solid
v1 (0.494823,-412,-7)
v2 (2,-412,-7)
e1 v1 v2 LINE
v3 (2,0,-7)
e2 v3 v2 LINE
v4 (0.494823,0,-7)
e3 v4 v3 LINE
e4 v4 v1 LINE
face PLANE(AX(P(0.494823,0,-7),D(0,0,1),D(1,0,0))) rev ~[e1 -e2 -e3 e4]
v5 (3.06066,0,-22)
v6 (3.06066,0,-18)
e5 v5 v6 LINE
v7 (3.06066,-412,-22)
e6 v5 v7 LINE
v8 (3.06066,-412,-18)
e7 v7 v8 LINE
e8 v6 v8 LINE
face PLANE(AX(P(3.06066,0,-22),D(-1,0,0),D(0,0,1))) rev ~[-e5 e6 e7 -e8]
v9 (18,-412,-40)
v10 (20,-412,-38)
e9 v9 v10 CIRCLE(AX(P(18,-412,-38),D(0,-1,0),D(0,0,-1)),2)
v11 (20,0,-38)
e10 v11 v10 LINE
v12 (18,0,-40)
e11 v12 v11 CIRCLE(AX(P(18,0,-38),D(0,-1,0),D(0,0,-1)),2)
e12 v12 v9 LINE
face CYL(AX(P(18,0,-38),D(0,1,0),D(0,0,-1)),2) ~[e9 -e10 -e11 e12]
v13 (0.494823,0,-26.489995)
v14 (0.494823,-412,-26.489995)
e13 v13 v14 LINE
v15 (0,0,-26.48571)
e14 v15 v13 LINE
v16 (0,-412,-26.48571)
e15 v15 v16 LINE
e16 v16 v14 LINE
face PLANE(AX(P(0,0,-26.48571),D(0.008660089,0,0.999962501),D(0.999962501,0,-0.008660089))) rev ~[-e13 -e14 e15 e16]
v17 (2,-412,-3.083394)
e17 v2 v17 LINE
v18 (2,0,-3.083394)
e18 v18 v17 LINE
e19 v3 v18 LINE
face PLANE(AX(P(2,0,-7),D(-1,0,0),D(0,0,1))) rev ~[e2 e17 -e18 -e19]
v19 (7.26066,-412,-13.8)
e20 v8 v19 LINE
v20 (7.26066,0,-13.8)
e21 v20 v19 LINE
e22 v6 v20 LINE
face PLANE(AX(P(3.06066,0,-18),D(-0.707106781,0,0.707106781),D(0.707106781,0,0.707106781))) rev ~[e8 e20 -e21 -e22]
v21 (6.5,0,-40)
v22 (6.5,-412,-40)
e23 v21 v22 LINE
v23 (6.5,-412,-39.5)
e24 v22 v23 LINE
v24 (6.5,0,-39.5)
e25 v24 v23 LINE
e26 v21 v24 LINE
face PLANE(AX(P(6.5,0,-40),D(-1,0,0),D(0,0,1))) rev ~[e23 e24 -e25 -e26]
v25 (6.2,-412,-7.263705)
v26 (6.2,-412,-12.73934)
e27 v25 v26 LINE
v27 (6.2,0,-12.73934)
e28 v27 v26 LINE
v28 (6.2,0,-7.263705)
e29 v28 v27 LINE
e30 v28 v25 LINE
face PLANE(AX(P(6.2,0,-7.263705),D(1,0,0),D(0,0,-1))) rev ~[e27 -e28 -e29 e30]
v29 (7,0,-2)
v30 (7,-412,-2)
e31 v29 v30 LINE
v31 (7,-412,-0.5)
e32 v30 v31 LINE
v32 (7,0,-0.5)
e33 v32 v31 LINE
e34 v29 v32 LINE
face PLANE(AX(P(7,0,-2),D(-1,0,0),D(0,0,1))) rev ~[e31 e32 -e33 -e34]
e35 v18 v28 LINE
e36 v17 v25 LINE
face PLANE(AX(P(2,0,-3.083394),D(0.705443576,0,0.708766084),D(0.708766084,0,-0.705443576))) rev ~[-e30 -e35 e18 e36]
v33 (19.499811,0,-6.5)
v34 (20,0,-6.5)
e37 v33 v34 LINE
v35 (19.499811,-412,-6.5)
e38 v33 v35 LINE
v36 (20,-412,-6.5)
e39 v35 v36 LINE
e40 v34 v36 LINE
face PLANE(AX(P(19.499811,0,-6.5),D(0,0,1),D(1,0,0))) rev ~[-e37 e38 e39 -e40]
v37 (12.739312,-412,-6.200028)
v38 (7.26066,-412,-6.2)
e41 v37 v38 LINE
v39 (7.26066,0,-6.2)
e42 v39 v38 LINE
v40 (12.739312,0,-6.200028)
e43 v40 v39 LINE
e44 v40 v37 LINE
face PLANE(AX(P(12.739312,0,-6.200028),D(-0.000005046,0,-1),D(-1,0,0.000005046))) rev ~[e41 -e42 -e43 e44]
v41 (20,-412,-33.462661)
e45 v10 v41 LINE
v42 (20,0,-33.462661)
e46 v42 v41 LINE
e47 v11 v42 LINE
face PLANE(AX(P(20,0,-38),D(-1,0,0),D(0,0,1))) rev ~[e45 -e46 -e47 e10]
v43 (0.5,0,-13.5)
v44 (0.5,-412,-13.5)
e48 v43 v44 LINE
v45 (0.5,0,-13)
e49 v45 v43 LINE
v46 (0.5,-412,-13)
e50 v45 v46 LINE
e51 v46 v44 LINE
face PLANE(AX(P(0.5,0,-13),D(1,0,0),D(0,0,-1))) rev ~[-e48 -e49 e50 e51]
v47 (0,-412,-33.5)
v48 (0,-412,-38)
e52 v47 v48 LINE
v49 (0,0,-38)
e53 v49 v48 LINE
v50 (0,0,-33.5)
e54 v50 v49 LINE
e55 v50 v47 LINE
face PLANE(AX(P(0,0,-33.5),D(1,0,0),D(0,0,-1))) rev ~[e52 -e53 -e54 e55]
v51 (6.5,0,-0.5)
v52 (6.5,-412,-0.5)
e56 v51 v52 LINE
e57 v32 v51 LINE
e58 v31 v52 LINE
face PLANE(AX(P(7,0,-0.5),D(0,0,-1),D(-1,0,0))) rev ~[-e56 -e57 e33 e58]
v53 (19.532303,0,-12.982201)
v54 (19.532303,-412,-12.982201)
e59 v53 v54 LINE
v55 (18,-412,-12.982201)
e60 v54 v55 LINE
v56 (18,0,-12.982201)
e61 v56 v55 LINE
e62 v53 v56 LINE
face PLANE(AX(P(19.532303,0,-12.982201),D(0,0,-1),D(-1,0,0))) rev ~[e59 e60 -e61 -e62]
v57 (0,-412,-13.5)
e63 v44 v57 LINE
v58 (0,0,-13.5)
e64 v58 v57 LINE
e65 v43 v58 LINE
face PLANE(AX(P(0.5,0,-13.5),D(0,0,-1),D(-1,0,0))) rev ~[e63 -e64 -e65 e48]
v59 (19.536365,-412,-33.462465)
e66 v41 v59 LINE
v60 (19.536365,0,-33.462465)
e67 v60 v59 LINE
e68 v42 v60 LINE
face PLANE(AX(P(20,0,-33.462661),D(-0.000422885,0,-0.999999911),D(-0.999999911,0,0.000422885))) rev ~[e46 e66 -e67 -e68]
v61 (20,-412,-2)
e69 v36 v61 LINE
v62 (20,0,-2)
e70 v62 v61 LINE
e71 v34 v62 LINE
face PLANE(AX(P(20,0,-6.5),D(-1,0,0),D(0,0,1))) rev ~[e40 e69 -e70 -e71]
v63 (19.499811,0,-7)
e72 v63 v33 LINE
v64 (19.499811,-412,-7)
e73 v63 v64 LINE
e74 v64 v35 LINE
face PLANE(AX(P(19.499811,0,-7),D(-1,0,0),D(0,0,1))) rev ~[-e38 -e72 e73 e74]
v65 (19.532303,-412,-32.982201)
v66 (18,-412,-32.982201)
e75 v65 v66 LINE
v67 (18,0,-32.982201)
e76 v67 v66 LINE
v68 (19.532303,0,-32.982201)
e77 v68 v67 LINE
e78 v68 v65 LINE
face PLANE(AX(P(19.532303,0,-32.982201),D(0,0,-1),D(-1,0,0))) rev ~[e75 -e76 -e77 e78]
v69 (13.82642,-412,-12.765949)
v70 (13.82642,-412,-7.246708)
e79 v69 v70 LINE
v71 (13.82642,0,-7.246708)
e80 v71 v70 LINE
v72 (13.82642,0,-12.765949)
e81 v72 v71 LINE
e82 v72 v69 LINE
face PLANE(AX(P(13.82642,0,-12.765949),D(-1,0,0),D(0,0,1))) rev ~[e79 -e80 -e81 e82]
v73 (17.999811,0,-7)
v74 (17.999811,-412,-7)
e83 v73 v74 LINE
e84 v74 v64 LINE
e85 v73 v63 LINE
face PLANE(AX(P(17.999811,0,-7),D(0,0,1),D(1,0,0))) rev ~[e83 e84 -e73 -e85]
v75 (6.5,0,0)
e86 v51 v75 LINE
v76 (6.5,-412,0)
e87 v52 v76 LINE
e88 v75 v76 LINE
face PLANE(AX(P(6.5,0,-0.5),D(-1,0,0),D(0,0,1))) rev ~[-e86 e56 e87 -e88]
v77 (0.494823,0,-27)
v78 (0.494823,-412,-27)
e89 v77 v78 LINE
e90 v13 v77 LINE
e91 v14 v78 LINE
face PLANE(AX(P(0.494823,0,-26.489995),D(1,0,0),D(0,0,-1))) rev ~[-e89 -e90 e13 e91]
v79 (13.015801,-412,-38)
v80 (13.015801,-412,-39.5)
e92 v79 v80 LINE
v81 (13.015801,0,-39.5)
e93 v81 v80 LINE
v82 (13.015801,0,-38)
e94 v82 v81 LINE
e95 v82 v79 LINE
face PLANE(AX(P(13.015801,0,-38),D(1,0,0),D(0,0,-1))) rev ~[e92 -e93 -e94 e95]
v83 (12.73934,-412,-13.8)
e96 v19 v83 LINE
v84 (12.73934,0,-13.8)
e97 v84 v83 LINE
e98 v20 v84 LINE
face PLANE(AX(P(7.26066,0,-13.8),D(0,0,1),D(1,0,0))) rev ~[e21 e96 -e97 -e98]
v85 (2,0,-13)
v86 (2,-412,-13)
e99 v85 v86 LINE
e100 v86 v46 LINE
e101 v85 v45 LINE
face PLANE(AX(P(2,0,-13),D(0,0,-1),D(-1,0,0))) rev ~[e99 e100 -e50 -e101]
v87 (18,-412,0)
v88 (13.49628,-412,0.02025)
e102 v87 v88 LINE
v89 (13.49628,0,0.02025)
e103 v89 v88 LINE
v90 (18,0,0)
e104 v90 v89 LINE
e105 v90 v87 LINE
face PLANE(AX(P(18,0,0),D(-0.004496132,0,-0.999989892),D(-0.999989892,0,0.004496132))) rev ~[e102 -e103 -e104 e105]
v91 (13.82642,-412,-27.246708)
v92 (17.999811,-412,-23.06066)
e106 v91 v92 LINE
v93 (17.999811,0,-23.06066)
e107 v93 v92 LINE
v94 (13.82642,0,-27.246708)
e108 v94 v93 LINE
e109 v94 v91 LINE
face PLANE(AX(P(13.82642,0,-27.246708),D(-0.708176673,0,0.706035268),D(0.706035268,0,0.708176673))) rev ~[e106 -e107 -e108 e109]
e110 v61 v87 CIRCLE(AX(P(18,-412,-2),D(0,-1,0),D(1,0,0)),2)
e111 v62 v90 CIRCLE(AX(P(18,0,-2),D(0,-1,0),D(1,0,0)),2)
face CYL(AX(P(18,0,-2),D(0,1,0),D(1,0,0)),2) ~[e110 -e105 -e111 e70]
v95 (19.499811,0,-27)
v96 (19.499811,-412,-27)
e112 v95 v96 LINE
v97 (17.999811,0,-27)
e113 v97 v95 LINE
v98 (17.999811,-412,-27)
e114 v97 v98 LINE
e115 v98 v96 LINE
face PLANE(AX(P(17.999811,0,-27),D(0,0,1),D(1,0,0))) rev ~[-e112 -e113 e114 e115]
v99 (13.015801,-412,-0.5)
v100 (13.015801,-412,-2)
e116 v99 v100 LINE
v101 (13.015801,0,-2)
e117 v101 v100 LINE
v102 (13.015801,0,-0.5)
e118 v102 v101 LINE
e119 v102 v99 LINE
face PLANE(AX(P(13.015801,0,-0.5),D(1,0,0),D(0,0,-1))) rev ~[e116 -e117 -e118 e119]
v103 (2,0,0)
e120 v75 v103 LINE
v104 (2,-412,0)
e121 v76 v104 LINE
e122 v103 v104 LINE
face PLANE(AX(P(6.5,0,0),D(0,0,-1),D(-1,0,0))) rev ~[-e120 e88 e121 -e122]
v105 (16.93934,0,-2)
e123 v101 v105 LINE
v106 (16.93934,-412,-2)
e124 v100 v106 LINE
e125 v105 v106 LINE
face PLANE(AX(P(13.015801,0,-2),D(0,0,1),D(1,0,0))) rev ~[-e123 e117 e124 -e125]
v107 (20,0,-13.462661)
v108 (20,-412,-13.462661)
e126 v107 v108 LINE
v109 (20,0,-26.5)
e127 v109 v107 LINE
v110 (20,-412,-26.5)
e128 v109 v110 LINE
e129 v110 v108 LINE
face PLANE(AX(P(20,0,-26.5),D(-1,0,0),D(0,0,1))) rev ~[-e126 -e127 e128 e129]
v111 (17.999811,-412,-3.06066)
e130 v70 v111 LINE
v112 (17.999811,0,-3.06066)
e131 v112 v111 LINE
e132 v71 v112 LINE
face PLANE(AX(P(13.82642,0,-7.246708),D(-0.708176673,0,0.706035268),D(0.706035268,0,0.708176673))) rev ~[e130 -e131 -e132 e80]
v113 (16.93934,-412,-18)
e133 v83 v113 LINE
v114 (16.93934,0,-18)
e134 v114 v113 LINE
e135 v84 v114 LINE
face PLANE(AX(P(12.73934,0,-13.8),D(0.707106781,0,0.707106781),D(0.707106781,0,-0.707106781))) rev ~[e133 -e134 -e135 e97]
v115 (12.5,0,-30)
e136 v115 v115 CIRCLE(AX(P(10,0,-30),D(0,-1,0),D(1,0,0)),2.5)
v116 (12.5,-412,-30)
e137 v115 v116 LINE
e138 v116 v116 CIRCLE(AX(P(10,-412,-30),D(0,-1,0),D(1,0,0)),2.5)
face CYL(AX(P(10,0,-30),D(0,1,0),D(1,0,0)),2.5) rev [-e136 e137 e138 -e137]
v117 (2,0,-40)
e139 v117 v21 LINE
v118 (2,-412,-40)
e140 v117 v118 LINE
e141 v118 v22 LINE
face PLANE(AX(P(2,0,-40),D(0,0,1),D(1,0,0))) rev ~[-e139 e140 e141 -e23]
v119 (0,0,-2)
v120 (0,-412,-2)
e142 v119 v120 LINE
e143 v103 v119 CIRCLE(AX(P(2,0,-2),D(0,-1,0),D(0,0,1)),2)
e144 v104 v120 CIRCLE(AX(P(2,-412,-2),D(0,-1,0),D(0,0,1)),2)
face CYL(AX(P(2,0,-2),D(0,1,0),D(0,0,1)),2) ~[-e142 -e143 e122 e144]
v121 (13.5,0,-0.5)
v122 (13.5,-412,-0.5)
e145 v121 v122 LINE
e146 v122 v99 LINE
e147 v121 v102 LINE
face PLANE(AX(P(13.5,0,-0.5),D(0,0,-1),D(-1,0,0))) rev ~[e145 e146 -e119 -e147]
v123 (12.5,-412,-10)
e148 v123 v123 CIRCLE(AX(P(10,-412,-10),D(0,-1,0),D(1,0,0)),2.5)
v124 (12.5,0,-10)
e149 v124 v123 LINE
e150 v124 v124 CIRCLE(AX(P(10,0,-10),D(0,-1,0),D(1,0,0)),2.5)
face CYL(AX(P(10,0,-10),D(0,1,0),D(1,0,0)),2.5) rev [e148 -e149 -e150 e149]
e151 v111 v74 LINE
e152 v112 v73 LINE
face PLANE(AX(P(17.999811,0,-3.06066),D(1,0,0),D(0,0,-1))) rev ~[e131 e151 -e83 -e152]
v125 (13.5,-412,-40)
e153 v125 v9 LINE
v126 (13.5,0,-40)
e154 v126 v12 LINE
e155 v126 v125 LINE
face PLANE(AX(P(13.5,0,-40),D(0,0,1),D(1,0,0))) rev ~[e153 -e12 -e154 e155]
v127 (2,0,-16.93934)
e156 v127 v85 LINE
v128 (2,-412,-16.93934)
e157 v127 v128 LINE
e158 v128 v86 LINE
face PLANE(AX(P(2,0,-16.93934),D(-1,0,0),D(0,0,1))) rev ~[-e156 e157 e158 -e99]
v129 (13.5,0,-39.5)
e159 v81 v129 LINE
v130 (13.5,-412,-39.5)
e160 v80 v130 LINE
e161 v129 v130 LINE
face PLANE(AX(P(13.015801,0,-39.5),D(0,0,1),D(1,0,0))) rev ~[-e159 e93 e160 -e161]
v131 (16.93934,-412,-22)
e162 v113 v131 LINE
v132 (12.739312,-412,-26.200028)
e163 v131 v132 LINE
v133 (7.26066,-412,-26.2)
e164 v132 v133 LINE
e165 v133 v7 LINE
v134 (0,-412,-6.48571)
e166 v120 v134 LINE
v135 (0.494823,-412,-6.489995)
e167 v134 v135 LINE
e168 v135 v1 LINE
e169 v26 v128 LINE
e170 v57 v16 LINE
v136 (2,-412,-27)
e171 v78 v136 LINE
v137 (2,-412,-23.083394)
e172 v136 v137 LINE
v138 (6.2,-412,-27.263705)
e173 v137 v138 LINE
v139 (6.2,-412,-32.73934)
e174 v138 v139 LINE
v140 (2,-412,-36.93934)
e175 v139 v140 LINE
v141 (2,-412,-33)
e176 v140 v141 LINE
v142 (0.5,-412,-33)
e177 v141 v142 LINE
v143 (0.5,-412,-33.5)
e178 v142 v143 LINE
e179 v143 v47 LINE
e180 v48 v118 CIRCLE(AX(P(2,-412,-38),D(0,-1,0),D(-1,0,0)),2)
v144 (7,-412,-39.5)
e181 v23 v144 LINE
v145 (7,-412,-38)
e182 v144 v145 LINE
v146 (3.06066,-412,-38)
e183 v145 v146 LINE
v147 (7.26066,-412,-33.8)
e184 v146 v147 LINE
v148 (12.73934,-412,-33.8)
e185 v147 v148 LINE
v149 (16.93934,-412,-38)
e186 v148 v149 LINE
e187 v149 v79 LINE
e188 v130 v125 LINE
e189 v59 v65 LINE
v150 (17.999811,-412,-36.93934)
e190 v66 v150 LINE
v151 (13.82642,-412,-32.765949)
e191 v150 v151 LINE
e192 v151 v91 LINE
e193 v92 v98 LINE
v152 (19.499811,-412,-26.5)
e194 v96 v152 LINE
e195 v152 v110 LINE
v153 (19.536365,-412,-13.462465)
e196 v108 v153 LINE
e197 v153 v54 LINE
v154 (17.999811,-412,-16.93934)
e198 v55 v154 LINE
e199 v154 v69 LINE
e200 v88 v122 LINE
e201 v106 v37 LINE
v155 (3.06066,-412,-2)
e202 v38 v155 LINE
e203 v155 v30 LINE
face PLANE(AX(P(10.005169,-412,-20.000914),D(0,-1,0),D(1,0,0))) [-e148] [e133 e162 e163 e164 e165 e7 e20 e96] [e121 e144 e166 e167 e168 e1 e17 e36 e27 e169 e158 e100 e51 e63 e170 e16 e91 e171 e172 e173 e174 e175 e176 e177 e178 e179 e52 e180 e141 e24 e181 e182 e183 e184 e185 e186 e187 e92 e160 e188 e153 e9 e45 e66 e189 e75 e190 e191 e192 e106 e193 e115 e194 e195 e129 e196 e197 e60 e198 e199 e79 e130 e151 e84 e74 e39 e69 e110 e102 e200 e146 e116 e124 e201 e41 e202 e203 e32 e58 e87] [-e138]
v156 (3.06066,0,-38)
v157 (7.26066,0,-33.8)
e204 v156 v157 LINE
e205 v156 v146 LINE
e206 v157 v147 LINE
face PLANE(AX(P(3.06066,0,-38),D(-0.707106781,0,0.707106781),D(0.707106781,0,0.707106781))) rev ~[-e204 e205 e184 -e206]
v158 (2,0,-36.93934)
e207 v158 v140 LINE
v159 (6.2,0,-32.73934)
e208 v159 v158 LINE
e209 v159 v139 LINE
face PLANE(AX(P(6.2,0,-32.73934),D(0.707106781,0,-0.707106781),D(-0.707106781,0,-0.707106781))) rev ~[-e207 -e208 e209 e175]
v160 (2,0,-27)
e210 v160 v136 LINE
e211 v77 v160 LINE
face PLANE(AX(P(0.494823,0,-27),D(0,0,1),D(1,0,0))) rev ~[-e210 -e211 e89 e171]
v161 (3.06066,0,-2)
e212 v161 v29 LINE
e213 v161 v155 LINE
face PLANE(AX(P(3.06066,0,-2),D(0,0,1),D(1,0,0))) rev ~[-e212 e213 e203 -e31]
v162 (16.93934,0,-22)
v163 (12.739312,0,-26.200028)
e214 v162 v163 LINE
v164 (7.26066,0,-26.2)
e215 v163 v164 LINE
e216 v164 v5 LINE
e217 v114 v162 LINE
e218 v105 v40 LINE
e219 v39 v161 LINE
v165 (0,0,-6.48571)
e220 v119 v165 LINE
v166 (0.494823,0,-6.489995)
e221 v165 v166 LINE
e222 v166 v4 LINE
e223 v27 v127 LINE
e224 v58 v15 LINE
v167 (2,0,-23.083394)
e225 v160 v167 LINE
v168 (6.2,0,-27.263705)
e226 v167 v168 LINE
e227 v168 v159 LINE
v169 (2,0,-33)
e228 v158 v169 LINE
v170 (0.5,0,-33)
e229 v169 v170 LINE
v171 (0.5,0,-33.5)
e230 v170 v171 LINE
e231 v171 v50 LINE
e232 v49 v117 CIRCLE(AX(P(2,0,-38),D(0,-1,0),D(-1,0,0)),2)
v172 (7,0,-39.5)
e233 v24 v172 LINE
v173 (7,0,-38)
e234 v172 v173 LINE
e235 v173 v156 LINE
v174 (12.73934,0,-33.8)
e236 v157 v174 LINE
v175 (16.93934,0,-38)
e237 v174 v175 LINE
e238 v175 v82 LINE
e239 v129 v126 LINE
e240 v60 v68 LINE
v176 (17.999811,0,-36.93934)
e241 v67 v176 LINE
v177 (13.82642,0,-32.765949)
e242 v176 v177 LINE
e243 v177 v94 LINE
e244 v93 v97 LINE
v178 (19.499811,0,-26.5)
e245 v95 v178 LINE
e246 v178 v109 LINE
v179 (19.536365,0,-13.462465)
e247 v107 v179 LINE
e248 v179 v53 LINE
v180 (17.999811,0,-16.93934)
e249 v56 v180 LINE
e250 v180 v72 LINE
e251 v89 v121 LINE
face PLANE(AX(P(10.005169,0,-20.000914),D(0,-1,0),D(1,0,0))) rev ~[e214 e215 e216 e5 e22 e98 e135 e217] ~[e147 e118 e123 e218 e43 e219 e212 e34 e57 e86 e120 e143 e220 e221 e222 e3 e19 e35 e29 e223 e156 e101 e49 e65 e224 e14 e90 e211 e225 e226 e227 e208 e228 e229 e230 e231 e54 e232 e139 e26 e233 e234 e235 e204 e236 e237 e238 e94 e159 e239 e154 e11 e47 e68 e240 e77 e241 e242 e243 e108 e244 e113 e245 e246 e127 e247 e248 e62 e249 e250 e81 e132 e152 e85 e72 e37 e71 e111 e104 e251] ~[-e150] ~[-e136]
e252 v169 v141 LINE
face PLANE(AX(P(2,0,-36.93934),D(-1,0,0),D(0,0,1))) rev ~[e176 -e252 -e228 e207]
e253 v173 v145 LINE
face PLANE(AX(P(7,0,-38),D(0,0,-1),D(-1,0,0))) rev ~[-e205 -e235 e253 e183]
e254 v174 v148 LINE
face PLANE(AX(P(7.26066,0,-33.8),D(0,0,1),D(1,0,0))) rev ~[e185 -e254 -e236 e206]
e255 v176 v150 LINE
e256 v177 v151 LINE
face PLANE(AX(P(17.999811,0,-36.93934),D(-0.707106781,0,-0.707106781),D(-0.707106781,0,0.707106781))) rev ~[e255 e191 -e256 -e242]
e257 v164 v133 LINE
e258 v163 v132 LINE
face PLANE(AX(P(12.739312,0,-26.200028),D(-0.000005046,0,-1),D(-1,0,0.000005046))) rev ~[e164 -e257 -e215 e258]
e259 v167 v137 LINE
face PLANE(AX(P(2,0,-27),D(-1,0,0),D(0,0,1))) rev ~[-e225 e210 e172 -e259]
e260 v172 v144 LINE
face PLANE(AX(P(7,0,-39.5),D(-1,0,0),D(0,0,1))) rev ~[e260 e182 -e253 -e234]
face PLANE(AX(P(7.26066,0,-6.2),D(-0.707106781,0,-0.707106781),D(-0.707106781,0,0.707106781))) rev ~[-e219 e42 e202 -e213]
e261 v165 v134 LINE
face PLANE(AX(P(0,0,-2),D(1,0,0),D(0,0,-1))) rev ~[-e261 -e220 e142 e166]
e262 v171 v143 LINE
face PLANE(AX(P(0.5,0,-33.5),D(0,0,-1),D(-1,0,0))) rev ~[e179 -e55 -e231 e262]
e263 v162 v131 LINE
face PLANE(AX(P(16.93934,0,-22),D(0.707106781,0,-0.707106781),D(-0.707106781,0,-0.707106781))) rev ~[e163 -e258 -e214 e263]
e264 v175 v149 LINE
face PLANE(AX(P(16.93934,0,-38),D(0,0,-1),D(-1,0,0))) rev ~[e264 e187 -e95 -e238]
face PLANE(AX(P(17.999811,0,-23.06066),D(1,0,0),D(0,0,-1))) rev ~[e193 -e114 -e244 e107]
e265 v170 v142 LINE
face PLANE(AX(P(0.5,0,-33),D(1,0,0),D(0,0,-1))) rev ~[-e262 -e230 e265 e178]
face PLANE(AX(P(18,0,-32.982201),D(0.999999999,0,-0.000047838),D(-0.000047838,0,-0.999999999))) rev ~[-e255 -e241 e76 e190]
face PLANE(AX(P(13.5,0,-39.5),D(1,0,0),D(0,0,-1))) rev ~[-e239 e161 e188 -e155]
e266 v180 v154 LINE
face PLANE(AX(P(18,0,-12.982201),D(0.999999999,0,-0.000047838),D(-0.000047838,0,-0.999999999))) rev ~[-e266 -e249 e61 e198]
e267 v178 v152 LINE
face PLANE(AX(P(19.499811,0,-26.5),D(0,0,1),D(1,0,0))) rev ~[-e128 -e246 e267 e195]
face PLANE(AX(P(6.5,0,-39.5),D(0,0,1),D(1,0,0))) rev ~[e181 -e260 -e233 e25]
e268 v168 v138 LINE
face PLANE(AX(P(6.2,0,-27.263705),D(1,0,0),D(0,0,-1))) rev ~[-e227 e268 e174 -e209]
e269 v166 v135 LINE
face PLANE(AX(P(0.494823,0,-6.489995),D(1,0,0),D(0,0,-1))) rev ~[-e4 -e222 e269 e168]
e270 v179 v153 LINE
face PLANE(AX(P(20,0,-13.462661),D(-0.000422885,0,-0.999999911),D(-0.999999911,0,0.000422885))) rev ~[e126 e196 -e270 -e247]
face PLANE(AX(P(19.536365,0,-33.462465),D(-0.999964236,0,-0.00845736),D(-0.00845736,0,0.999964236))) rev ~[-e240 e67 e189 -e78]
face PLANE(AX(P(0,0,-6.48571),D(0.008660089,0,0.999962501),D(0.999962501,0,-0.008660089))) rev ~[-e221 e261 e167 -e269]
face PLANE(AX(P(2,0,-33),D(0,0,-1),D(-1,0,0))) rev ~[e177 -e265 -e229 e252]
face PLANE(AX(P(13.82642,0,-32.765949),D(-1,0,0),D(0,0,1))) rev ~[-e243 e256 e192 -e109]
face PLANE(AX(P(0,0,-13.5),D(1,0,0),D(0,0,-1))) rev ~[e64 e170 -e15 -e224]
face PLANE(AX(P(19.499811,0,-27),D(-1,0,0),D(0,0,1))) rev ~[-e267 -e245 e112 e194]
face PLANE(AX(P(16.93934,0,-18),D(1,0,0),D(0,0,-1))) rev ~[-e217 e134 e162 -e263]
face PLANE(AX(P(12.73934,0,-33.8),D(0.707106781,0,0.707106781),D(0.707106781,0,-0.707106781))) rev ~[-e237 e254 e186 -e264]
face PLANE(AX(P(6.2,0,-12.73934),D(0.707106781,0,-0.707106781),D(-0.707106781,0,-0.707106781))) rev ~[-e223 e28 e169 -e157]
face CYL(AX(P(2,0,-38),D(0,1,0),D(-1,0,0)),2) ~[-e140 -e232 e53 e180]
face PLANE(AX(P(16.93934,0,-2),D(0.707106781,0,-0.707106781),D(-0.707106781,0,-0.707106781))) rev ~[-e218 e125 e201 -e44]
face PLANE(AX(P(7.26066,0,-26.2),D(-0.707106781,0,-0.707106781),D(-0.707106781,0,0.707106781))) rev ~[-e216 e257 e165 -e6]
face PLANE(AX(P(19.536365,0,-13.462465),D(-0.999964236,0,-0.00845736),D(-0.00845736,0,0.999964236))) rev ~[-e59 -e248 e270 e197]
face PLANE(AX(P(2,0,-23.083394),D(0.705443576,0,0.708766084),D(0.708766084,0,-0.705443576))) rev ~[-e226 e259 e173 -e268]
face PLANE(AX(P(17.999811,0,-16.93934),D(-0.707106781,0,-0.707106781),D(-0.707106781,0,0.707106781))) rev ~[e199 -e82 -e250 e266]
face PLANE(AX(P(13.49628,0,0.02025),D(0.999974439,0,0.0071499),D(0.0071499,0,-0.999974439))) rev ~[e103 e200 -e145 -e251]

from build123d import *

# Parameters (mm, degrees)
F0_R     = 2.5
F2_DEPTH = 412


with BuildPart() as f2:
    # F0 (on Front) → F2 (new body)
    with BuildSketch(Plane.XZ):
        with BuildLine():
            Line((6.5, 0), (2, 0))
            ThreePointArc((2, 0), (0.5857864376, -0.5857864376), (0, -2))
            Line((0, -2), (0, -6.4857100192))
            Line((0, -6.4857100192), (0.4948230833, -6.489995392))
            Line((0.4948230833, -6.489995392), (0.4948230833, -7))
            Line((0.4948230833, -7), (2, -7))
            Line((2, -7), (2, -3.0833937817))
            Line((2, -3.0833937817), (6.2, -7.2637052917))
            Line((6.2, -7.2637052917), (6.2, -12.7393398282))
            Line((6.2, -12.7393398282), (2, -16.9393398282))
            Line((2, -16.9393398282), (2, -13))
            Line((2, -13), (0.5, -13))
            Line((0.5, -13), (0.5, -13.5))
            Line((0.5, -13.5), (0, -13.5))
            Line((0, -13.5), (0, -26.4857100192))
            Line((0, -26.4857100192), (0.4948230833, -26.489995392))
            Line((0.4948230833, -26.489995392), (0.4948230833, -27))
            Line((0.4948230833, -27), (2, -27))
            Line((2, -27), (2, -23.0833937817))
            Line((2, -23.0833937817), (6.2, -27.2637052917))
            Line((6.2, -27.2637052917), (6.2, -32.7393398282))
            Line((6.2, -32.7393398282), (2, -36.9393398282))
            Line((2, -36.9393398282), (2, -33))
            Line((2, -33), (0.5, -33))
            Line((0.5, -33), (0.5, -33.5))
            Line((0.5, -33.5), (0, -33.5))
            Line((0, -33.5), (0, -38))
            ThreePointArc((0, -38), (0.5857864376, -39.4142135624), (2, -40))
            Line((2, -40), (6.5, -40))
            Line((6.5, -40), (6.5, -39.5))
            Line((6.5, -39.5), (7, -39.5))
            Line((7, -39.5), (7, -38))
            Line((7, -38), (3.0606601718, -38))
            Line((3.0606601718, -38), (7.2606601718, -33.8))
            Line((7.2606601718, -33.8), (12.7393398282, -33.8))
            Line((12.7393398282, -33.8), (16.9393398282, -38))
            Line((16.9393398282, -38), (13.015800612, -38))
            Line((13.015800612, -38), (13.015800612, -39.5))
            Line((13.015800612, -39.5), (13.5, -39.5))
            Line((13.5, -39.5), (13.5, -40))
            Line((13.5, -40), (18, -40))
            ThreePointArc((18, -40), (19.4142135624, -39.4142135624), (20, -38))
            Line((20, -38), (20, -33.4626608249))
            Line((20, -33.4626608249), (19.5363645284, -33.4624647606))
            Line((19.5363645284, -33.4624647606), (19.532302618, -32.9822008219))
            Line((19.532302618, -32.9822008219), (18, -32.9822008219))
            Line((18, -32.9822008219), (17.9998106987, -36.9393398192))
            Line((17.9998106987, -36.9393398192), (13.8264202785, -32.765949399))
            Line((13.8264202785, -32.765949399), (13.8264202785, -27.246708479))
            Line((13.8264202785, -27.246708479), (17.9998106987, -23.0606601627))
            Line((17.9998106987, -23.0606601627), (17.9998106987, -26.9999999909))
            Line((17.9998106987, -26.9999999909), (19.4998106987, -26.9999999909))
            Line((19.4998106987, -26.9999999909), (19.4998106987, -26.4999999909))
            Line((19.4998106987, -26.4999999909), (20, -26.4999999909))
            Line((20, -26.4999999909), (20, -13.4626608249))
            Line((20, -13.4626608249), (19.5363645284, -13.4624647606))
            Line((19.5363645284, -13.4624647606), (19.532302618, -12.9822008219))
            Line((19.532302618, -12.9822008219), (18, -12.9822008219))
            Line((18, -12.9822008219), (17.9998106987, -16.9393398192))
            Line((17.9998106987, -16.9393398192), (13.8264202785, -12.765949399))
            Line((13.8264202785, -12.765949399), (13.8264202785, -7.246708479))
            Line((13.8264202785, -7.246708479), (17.9998106987, -3.0606601627))
            Line((17.9998106987, -3.0606601627), (17.9998106987, -6.9999999909))
            Line((17.9998106987, -6.9999999909), (19.4998106987, -6.9999999909))
            Line((19.4998106987, -6.9999999909), (19.4998106987, -6.4999999909))
            Line((19.4998106987, -6.4999999909), (20, -6.4999999909))
            Line((20, -6.4999999909), (20, -2))
            ThreePointArc((20, -2), (19.4142135624, -0.5857864376), (18, 0))
            Line((18, 0), (13.4962801728, 0.0202495232))
            Line((13.4962801728, 0.0202495232), (13.5, -0.5))
            Line((13.5, -0.5), (13.015800612, -0.5))
            Line((13.015800612, -0.5), (13.015800612, -2))
            Line((13.015800612, -2), (16.9393398282, -2))
            Line((16.9393398282, -2), (12.7393121854, -6.2000276428))
            Line((12.7393121854, -6.2000276428), (7.2606601718, -6.2))
            Line((7.2606601718, -6.2), (3.0606601718, -2))
            Line((3.0606601718, -2), (7, -2))
            Line((7, -2), (7, -0.5))
            Line((7, -0.5), (6.5, -0.5))
            Line((6.5, -0.5), (6.5, 0))
        make_face()
        with Locations((10, -30)):
            Circle(F0_R, mode=Mode.SUBTRACT)
        Polygon((7.2606601718, -13.8), (12.7393398282, -13.8), (16.9393398282, -18), (16.9393398282, -22), (12.7393121854, -26.2000276428), (7.2606601718, -26.2), (3.0606601718, -22), (3.0606601718, -18), align=None, mode=Mode.SUBTRACT)
        with Locations((10, -10)):
            Circle(F0_R, mode=Mode.SUBTRACT)
    extrude(amount=F2_DEPTH)


solid = f2.part
